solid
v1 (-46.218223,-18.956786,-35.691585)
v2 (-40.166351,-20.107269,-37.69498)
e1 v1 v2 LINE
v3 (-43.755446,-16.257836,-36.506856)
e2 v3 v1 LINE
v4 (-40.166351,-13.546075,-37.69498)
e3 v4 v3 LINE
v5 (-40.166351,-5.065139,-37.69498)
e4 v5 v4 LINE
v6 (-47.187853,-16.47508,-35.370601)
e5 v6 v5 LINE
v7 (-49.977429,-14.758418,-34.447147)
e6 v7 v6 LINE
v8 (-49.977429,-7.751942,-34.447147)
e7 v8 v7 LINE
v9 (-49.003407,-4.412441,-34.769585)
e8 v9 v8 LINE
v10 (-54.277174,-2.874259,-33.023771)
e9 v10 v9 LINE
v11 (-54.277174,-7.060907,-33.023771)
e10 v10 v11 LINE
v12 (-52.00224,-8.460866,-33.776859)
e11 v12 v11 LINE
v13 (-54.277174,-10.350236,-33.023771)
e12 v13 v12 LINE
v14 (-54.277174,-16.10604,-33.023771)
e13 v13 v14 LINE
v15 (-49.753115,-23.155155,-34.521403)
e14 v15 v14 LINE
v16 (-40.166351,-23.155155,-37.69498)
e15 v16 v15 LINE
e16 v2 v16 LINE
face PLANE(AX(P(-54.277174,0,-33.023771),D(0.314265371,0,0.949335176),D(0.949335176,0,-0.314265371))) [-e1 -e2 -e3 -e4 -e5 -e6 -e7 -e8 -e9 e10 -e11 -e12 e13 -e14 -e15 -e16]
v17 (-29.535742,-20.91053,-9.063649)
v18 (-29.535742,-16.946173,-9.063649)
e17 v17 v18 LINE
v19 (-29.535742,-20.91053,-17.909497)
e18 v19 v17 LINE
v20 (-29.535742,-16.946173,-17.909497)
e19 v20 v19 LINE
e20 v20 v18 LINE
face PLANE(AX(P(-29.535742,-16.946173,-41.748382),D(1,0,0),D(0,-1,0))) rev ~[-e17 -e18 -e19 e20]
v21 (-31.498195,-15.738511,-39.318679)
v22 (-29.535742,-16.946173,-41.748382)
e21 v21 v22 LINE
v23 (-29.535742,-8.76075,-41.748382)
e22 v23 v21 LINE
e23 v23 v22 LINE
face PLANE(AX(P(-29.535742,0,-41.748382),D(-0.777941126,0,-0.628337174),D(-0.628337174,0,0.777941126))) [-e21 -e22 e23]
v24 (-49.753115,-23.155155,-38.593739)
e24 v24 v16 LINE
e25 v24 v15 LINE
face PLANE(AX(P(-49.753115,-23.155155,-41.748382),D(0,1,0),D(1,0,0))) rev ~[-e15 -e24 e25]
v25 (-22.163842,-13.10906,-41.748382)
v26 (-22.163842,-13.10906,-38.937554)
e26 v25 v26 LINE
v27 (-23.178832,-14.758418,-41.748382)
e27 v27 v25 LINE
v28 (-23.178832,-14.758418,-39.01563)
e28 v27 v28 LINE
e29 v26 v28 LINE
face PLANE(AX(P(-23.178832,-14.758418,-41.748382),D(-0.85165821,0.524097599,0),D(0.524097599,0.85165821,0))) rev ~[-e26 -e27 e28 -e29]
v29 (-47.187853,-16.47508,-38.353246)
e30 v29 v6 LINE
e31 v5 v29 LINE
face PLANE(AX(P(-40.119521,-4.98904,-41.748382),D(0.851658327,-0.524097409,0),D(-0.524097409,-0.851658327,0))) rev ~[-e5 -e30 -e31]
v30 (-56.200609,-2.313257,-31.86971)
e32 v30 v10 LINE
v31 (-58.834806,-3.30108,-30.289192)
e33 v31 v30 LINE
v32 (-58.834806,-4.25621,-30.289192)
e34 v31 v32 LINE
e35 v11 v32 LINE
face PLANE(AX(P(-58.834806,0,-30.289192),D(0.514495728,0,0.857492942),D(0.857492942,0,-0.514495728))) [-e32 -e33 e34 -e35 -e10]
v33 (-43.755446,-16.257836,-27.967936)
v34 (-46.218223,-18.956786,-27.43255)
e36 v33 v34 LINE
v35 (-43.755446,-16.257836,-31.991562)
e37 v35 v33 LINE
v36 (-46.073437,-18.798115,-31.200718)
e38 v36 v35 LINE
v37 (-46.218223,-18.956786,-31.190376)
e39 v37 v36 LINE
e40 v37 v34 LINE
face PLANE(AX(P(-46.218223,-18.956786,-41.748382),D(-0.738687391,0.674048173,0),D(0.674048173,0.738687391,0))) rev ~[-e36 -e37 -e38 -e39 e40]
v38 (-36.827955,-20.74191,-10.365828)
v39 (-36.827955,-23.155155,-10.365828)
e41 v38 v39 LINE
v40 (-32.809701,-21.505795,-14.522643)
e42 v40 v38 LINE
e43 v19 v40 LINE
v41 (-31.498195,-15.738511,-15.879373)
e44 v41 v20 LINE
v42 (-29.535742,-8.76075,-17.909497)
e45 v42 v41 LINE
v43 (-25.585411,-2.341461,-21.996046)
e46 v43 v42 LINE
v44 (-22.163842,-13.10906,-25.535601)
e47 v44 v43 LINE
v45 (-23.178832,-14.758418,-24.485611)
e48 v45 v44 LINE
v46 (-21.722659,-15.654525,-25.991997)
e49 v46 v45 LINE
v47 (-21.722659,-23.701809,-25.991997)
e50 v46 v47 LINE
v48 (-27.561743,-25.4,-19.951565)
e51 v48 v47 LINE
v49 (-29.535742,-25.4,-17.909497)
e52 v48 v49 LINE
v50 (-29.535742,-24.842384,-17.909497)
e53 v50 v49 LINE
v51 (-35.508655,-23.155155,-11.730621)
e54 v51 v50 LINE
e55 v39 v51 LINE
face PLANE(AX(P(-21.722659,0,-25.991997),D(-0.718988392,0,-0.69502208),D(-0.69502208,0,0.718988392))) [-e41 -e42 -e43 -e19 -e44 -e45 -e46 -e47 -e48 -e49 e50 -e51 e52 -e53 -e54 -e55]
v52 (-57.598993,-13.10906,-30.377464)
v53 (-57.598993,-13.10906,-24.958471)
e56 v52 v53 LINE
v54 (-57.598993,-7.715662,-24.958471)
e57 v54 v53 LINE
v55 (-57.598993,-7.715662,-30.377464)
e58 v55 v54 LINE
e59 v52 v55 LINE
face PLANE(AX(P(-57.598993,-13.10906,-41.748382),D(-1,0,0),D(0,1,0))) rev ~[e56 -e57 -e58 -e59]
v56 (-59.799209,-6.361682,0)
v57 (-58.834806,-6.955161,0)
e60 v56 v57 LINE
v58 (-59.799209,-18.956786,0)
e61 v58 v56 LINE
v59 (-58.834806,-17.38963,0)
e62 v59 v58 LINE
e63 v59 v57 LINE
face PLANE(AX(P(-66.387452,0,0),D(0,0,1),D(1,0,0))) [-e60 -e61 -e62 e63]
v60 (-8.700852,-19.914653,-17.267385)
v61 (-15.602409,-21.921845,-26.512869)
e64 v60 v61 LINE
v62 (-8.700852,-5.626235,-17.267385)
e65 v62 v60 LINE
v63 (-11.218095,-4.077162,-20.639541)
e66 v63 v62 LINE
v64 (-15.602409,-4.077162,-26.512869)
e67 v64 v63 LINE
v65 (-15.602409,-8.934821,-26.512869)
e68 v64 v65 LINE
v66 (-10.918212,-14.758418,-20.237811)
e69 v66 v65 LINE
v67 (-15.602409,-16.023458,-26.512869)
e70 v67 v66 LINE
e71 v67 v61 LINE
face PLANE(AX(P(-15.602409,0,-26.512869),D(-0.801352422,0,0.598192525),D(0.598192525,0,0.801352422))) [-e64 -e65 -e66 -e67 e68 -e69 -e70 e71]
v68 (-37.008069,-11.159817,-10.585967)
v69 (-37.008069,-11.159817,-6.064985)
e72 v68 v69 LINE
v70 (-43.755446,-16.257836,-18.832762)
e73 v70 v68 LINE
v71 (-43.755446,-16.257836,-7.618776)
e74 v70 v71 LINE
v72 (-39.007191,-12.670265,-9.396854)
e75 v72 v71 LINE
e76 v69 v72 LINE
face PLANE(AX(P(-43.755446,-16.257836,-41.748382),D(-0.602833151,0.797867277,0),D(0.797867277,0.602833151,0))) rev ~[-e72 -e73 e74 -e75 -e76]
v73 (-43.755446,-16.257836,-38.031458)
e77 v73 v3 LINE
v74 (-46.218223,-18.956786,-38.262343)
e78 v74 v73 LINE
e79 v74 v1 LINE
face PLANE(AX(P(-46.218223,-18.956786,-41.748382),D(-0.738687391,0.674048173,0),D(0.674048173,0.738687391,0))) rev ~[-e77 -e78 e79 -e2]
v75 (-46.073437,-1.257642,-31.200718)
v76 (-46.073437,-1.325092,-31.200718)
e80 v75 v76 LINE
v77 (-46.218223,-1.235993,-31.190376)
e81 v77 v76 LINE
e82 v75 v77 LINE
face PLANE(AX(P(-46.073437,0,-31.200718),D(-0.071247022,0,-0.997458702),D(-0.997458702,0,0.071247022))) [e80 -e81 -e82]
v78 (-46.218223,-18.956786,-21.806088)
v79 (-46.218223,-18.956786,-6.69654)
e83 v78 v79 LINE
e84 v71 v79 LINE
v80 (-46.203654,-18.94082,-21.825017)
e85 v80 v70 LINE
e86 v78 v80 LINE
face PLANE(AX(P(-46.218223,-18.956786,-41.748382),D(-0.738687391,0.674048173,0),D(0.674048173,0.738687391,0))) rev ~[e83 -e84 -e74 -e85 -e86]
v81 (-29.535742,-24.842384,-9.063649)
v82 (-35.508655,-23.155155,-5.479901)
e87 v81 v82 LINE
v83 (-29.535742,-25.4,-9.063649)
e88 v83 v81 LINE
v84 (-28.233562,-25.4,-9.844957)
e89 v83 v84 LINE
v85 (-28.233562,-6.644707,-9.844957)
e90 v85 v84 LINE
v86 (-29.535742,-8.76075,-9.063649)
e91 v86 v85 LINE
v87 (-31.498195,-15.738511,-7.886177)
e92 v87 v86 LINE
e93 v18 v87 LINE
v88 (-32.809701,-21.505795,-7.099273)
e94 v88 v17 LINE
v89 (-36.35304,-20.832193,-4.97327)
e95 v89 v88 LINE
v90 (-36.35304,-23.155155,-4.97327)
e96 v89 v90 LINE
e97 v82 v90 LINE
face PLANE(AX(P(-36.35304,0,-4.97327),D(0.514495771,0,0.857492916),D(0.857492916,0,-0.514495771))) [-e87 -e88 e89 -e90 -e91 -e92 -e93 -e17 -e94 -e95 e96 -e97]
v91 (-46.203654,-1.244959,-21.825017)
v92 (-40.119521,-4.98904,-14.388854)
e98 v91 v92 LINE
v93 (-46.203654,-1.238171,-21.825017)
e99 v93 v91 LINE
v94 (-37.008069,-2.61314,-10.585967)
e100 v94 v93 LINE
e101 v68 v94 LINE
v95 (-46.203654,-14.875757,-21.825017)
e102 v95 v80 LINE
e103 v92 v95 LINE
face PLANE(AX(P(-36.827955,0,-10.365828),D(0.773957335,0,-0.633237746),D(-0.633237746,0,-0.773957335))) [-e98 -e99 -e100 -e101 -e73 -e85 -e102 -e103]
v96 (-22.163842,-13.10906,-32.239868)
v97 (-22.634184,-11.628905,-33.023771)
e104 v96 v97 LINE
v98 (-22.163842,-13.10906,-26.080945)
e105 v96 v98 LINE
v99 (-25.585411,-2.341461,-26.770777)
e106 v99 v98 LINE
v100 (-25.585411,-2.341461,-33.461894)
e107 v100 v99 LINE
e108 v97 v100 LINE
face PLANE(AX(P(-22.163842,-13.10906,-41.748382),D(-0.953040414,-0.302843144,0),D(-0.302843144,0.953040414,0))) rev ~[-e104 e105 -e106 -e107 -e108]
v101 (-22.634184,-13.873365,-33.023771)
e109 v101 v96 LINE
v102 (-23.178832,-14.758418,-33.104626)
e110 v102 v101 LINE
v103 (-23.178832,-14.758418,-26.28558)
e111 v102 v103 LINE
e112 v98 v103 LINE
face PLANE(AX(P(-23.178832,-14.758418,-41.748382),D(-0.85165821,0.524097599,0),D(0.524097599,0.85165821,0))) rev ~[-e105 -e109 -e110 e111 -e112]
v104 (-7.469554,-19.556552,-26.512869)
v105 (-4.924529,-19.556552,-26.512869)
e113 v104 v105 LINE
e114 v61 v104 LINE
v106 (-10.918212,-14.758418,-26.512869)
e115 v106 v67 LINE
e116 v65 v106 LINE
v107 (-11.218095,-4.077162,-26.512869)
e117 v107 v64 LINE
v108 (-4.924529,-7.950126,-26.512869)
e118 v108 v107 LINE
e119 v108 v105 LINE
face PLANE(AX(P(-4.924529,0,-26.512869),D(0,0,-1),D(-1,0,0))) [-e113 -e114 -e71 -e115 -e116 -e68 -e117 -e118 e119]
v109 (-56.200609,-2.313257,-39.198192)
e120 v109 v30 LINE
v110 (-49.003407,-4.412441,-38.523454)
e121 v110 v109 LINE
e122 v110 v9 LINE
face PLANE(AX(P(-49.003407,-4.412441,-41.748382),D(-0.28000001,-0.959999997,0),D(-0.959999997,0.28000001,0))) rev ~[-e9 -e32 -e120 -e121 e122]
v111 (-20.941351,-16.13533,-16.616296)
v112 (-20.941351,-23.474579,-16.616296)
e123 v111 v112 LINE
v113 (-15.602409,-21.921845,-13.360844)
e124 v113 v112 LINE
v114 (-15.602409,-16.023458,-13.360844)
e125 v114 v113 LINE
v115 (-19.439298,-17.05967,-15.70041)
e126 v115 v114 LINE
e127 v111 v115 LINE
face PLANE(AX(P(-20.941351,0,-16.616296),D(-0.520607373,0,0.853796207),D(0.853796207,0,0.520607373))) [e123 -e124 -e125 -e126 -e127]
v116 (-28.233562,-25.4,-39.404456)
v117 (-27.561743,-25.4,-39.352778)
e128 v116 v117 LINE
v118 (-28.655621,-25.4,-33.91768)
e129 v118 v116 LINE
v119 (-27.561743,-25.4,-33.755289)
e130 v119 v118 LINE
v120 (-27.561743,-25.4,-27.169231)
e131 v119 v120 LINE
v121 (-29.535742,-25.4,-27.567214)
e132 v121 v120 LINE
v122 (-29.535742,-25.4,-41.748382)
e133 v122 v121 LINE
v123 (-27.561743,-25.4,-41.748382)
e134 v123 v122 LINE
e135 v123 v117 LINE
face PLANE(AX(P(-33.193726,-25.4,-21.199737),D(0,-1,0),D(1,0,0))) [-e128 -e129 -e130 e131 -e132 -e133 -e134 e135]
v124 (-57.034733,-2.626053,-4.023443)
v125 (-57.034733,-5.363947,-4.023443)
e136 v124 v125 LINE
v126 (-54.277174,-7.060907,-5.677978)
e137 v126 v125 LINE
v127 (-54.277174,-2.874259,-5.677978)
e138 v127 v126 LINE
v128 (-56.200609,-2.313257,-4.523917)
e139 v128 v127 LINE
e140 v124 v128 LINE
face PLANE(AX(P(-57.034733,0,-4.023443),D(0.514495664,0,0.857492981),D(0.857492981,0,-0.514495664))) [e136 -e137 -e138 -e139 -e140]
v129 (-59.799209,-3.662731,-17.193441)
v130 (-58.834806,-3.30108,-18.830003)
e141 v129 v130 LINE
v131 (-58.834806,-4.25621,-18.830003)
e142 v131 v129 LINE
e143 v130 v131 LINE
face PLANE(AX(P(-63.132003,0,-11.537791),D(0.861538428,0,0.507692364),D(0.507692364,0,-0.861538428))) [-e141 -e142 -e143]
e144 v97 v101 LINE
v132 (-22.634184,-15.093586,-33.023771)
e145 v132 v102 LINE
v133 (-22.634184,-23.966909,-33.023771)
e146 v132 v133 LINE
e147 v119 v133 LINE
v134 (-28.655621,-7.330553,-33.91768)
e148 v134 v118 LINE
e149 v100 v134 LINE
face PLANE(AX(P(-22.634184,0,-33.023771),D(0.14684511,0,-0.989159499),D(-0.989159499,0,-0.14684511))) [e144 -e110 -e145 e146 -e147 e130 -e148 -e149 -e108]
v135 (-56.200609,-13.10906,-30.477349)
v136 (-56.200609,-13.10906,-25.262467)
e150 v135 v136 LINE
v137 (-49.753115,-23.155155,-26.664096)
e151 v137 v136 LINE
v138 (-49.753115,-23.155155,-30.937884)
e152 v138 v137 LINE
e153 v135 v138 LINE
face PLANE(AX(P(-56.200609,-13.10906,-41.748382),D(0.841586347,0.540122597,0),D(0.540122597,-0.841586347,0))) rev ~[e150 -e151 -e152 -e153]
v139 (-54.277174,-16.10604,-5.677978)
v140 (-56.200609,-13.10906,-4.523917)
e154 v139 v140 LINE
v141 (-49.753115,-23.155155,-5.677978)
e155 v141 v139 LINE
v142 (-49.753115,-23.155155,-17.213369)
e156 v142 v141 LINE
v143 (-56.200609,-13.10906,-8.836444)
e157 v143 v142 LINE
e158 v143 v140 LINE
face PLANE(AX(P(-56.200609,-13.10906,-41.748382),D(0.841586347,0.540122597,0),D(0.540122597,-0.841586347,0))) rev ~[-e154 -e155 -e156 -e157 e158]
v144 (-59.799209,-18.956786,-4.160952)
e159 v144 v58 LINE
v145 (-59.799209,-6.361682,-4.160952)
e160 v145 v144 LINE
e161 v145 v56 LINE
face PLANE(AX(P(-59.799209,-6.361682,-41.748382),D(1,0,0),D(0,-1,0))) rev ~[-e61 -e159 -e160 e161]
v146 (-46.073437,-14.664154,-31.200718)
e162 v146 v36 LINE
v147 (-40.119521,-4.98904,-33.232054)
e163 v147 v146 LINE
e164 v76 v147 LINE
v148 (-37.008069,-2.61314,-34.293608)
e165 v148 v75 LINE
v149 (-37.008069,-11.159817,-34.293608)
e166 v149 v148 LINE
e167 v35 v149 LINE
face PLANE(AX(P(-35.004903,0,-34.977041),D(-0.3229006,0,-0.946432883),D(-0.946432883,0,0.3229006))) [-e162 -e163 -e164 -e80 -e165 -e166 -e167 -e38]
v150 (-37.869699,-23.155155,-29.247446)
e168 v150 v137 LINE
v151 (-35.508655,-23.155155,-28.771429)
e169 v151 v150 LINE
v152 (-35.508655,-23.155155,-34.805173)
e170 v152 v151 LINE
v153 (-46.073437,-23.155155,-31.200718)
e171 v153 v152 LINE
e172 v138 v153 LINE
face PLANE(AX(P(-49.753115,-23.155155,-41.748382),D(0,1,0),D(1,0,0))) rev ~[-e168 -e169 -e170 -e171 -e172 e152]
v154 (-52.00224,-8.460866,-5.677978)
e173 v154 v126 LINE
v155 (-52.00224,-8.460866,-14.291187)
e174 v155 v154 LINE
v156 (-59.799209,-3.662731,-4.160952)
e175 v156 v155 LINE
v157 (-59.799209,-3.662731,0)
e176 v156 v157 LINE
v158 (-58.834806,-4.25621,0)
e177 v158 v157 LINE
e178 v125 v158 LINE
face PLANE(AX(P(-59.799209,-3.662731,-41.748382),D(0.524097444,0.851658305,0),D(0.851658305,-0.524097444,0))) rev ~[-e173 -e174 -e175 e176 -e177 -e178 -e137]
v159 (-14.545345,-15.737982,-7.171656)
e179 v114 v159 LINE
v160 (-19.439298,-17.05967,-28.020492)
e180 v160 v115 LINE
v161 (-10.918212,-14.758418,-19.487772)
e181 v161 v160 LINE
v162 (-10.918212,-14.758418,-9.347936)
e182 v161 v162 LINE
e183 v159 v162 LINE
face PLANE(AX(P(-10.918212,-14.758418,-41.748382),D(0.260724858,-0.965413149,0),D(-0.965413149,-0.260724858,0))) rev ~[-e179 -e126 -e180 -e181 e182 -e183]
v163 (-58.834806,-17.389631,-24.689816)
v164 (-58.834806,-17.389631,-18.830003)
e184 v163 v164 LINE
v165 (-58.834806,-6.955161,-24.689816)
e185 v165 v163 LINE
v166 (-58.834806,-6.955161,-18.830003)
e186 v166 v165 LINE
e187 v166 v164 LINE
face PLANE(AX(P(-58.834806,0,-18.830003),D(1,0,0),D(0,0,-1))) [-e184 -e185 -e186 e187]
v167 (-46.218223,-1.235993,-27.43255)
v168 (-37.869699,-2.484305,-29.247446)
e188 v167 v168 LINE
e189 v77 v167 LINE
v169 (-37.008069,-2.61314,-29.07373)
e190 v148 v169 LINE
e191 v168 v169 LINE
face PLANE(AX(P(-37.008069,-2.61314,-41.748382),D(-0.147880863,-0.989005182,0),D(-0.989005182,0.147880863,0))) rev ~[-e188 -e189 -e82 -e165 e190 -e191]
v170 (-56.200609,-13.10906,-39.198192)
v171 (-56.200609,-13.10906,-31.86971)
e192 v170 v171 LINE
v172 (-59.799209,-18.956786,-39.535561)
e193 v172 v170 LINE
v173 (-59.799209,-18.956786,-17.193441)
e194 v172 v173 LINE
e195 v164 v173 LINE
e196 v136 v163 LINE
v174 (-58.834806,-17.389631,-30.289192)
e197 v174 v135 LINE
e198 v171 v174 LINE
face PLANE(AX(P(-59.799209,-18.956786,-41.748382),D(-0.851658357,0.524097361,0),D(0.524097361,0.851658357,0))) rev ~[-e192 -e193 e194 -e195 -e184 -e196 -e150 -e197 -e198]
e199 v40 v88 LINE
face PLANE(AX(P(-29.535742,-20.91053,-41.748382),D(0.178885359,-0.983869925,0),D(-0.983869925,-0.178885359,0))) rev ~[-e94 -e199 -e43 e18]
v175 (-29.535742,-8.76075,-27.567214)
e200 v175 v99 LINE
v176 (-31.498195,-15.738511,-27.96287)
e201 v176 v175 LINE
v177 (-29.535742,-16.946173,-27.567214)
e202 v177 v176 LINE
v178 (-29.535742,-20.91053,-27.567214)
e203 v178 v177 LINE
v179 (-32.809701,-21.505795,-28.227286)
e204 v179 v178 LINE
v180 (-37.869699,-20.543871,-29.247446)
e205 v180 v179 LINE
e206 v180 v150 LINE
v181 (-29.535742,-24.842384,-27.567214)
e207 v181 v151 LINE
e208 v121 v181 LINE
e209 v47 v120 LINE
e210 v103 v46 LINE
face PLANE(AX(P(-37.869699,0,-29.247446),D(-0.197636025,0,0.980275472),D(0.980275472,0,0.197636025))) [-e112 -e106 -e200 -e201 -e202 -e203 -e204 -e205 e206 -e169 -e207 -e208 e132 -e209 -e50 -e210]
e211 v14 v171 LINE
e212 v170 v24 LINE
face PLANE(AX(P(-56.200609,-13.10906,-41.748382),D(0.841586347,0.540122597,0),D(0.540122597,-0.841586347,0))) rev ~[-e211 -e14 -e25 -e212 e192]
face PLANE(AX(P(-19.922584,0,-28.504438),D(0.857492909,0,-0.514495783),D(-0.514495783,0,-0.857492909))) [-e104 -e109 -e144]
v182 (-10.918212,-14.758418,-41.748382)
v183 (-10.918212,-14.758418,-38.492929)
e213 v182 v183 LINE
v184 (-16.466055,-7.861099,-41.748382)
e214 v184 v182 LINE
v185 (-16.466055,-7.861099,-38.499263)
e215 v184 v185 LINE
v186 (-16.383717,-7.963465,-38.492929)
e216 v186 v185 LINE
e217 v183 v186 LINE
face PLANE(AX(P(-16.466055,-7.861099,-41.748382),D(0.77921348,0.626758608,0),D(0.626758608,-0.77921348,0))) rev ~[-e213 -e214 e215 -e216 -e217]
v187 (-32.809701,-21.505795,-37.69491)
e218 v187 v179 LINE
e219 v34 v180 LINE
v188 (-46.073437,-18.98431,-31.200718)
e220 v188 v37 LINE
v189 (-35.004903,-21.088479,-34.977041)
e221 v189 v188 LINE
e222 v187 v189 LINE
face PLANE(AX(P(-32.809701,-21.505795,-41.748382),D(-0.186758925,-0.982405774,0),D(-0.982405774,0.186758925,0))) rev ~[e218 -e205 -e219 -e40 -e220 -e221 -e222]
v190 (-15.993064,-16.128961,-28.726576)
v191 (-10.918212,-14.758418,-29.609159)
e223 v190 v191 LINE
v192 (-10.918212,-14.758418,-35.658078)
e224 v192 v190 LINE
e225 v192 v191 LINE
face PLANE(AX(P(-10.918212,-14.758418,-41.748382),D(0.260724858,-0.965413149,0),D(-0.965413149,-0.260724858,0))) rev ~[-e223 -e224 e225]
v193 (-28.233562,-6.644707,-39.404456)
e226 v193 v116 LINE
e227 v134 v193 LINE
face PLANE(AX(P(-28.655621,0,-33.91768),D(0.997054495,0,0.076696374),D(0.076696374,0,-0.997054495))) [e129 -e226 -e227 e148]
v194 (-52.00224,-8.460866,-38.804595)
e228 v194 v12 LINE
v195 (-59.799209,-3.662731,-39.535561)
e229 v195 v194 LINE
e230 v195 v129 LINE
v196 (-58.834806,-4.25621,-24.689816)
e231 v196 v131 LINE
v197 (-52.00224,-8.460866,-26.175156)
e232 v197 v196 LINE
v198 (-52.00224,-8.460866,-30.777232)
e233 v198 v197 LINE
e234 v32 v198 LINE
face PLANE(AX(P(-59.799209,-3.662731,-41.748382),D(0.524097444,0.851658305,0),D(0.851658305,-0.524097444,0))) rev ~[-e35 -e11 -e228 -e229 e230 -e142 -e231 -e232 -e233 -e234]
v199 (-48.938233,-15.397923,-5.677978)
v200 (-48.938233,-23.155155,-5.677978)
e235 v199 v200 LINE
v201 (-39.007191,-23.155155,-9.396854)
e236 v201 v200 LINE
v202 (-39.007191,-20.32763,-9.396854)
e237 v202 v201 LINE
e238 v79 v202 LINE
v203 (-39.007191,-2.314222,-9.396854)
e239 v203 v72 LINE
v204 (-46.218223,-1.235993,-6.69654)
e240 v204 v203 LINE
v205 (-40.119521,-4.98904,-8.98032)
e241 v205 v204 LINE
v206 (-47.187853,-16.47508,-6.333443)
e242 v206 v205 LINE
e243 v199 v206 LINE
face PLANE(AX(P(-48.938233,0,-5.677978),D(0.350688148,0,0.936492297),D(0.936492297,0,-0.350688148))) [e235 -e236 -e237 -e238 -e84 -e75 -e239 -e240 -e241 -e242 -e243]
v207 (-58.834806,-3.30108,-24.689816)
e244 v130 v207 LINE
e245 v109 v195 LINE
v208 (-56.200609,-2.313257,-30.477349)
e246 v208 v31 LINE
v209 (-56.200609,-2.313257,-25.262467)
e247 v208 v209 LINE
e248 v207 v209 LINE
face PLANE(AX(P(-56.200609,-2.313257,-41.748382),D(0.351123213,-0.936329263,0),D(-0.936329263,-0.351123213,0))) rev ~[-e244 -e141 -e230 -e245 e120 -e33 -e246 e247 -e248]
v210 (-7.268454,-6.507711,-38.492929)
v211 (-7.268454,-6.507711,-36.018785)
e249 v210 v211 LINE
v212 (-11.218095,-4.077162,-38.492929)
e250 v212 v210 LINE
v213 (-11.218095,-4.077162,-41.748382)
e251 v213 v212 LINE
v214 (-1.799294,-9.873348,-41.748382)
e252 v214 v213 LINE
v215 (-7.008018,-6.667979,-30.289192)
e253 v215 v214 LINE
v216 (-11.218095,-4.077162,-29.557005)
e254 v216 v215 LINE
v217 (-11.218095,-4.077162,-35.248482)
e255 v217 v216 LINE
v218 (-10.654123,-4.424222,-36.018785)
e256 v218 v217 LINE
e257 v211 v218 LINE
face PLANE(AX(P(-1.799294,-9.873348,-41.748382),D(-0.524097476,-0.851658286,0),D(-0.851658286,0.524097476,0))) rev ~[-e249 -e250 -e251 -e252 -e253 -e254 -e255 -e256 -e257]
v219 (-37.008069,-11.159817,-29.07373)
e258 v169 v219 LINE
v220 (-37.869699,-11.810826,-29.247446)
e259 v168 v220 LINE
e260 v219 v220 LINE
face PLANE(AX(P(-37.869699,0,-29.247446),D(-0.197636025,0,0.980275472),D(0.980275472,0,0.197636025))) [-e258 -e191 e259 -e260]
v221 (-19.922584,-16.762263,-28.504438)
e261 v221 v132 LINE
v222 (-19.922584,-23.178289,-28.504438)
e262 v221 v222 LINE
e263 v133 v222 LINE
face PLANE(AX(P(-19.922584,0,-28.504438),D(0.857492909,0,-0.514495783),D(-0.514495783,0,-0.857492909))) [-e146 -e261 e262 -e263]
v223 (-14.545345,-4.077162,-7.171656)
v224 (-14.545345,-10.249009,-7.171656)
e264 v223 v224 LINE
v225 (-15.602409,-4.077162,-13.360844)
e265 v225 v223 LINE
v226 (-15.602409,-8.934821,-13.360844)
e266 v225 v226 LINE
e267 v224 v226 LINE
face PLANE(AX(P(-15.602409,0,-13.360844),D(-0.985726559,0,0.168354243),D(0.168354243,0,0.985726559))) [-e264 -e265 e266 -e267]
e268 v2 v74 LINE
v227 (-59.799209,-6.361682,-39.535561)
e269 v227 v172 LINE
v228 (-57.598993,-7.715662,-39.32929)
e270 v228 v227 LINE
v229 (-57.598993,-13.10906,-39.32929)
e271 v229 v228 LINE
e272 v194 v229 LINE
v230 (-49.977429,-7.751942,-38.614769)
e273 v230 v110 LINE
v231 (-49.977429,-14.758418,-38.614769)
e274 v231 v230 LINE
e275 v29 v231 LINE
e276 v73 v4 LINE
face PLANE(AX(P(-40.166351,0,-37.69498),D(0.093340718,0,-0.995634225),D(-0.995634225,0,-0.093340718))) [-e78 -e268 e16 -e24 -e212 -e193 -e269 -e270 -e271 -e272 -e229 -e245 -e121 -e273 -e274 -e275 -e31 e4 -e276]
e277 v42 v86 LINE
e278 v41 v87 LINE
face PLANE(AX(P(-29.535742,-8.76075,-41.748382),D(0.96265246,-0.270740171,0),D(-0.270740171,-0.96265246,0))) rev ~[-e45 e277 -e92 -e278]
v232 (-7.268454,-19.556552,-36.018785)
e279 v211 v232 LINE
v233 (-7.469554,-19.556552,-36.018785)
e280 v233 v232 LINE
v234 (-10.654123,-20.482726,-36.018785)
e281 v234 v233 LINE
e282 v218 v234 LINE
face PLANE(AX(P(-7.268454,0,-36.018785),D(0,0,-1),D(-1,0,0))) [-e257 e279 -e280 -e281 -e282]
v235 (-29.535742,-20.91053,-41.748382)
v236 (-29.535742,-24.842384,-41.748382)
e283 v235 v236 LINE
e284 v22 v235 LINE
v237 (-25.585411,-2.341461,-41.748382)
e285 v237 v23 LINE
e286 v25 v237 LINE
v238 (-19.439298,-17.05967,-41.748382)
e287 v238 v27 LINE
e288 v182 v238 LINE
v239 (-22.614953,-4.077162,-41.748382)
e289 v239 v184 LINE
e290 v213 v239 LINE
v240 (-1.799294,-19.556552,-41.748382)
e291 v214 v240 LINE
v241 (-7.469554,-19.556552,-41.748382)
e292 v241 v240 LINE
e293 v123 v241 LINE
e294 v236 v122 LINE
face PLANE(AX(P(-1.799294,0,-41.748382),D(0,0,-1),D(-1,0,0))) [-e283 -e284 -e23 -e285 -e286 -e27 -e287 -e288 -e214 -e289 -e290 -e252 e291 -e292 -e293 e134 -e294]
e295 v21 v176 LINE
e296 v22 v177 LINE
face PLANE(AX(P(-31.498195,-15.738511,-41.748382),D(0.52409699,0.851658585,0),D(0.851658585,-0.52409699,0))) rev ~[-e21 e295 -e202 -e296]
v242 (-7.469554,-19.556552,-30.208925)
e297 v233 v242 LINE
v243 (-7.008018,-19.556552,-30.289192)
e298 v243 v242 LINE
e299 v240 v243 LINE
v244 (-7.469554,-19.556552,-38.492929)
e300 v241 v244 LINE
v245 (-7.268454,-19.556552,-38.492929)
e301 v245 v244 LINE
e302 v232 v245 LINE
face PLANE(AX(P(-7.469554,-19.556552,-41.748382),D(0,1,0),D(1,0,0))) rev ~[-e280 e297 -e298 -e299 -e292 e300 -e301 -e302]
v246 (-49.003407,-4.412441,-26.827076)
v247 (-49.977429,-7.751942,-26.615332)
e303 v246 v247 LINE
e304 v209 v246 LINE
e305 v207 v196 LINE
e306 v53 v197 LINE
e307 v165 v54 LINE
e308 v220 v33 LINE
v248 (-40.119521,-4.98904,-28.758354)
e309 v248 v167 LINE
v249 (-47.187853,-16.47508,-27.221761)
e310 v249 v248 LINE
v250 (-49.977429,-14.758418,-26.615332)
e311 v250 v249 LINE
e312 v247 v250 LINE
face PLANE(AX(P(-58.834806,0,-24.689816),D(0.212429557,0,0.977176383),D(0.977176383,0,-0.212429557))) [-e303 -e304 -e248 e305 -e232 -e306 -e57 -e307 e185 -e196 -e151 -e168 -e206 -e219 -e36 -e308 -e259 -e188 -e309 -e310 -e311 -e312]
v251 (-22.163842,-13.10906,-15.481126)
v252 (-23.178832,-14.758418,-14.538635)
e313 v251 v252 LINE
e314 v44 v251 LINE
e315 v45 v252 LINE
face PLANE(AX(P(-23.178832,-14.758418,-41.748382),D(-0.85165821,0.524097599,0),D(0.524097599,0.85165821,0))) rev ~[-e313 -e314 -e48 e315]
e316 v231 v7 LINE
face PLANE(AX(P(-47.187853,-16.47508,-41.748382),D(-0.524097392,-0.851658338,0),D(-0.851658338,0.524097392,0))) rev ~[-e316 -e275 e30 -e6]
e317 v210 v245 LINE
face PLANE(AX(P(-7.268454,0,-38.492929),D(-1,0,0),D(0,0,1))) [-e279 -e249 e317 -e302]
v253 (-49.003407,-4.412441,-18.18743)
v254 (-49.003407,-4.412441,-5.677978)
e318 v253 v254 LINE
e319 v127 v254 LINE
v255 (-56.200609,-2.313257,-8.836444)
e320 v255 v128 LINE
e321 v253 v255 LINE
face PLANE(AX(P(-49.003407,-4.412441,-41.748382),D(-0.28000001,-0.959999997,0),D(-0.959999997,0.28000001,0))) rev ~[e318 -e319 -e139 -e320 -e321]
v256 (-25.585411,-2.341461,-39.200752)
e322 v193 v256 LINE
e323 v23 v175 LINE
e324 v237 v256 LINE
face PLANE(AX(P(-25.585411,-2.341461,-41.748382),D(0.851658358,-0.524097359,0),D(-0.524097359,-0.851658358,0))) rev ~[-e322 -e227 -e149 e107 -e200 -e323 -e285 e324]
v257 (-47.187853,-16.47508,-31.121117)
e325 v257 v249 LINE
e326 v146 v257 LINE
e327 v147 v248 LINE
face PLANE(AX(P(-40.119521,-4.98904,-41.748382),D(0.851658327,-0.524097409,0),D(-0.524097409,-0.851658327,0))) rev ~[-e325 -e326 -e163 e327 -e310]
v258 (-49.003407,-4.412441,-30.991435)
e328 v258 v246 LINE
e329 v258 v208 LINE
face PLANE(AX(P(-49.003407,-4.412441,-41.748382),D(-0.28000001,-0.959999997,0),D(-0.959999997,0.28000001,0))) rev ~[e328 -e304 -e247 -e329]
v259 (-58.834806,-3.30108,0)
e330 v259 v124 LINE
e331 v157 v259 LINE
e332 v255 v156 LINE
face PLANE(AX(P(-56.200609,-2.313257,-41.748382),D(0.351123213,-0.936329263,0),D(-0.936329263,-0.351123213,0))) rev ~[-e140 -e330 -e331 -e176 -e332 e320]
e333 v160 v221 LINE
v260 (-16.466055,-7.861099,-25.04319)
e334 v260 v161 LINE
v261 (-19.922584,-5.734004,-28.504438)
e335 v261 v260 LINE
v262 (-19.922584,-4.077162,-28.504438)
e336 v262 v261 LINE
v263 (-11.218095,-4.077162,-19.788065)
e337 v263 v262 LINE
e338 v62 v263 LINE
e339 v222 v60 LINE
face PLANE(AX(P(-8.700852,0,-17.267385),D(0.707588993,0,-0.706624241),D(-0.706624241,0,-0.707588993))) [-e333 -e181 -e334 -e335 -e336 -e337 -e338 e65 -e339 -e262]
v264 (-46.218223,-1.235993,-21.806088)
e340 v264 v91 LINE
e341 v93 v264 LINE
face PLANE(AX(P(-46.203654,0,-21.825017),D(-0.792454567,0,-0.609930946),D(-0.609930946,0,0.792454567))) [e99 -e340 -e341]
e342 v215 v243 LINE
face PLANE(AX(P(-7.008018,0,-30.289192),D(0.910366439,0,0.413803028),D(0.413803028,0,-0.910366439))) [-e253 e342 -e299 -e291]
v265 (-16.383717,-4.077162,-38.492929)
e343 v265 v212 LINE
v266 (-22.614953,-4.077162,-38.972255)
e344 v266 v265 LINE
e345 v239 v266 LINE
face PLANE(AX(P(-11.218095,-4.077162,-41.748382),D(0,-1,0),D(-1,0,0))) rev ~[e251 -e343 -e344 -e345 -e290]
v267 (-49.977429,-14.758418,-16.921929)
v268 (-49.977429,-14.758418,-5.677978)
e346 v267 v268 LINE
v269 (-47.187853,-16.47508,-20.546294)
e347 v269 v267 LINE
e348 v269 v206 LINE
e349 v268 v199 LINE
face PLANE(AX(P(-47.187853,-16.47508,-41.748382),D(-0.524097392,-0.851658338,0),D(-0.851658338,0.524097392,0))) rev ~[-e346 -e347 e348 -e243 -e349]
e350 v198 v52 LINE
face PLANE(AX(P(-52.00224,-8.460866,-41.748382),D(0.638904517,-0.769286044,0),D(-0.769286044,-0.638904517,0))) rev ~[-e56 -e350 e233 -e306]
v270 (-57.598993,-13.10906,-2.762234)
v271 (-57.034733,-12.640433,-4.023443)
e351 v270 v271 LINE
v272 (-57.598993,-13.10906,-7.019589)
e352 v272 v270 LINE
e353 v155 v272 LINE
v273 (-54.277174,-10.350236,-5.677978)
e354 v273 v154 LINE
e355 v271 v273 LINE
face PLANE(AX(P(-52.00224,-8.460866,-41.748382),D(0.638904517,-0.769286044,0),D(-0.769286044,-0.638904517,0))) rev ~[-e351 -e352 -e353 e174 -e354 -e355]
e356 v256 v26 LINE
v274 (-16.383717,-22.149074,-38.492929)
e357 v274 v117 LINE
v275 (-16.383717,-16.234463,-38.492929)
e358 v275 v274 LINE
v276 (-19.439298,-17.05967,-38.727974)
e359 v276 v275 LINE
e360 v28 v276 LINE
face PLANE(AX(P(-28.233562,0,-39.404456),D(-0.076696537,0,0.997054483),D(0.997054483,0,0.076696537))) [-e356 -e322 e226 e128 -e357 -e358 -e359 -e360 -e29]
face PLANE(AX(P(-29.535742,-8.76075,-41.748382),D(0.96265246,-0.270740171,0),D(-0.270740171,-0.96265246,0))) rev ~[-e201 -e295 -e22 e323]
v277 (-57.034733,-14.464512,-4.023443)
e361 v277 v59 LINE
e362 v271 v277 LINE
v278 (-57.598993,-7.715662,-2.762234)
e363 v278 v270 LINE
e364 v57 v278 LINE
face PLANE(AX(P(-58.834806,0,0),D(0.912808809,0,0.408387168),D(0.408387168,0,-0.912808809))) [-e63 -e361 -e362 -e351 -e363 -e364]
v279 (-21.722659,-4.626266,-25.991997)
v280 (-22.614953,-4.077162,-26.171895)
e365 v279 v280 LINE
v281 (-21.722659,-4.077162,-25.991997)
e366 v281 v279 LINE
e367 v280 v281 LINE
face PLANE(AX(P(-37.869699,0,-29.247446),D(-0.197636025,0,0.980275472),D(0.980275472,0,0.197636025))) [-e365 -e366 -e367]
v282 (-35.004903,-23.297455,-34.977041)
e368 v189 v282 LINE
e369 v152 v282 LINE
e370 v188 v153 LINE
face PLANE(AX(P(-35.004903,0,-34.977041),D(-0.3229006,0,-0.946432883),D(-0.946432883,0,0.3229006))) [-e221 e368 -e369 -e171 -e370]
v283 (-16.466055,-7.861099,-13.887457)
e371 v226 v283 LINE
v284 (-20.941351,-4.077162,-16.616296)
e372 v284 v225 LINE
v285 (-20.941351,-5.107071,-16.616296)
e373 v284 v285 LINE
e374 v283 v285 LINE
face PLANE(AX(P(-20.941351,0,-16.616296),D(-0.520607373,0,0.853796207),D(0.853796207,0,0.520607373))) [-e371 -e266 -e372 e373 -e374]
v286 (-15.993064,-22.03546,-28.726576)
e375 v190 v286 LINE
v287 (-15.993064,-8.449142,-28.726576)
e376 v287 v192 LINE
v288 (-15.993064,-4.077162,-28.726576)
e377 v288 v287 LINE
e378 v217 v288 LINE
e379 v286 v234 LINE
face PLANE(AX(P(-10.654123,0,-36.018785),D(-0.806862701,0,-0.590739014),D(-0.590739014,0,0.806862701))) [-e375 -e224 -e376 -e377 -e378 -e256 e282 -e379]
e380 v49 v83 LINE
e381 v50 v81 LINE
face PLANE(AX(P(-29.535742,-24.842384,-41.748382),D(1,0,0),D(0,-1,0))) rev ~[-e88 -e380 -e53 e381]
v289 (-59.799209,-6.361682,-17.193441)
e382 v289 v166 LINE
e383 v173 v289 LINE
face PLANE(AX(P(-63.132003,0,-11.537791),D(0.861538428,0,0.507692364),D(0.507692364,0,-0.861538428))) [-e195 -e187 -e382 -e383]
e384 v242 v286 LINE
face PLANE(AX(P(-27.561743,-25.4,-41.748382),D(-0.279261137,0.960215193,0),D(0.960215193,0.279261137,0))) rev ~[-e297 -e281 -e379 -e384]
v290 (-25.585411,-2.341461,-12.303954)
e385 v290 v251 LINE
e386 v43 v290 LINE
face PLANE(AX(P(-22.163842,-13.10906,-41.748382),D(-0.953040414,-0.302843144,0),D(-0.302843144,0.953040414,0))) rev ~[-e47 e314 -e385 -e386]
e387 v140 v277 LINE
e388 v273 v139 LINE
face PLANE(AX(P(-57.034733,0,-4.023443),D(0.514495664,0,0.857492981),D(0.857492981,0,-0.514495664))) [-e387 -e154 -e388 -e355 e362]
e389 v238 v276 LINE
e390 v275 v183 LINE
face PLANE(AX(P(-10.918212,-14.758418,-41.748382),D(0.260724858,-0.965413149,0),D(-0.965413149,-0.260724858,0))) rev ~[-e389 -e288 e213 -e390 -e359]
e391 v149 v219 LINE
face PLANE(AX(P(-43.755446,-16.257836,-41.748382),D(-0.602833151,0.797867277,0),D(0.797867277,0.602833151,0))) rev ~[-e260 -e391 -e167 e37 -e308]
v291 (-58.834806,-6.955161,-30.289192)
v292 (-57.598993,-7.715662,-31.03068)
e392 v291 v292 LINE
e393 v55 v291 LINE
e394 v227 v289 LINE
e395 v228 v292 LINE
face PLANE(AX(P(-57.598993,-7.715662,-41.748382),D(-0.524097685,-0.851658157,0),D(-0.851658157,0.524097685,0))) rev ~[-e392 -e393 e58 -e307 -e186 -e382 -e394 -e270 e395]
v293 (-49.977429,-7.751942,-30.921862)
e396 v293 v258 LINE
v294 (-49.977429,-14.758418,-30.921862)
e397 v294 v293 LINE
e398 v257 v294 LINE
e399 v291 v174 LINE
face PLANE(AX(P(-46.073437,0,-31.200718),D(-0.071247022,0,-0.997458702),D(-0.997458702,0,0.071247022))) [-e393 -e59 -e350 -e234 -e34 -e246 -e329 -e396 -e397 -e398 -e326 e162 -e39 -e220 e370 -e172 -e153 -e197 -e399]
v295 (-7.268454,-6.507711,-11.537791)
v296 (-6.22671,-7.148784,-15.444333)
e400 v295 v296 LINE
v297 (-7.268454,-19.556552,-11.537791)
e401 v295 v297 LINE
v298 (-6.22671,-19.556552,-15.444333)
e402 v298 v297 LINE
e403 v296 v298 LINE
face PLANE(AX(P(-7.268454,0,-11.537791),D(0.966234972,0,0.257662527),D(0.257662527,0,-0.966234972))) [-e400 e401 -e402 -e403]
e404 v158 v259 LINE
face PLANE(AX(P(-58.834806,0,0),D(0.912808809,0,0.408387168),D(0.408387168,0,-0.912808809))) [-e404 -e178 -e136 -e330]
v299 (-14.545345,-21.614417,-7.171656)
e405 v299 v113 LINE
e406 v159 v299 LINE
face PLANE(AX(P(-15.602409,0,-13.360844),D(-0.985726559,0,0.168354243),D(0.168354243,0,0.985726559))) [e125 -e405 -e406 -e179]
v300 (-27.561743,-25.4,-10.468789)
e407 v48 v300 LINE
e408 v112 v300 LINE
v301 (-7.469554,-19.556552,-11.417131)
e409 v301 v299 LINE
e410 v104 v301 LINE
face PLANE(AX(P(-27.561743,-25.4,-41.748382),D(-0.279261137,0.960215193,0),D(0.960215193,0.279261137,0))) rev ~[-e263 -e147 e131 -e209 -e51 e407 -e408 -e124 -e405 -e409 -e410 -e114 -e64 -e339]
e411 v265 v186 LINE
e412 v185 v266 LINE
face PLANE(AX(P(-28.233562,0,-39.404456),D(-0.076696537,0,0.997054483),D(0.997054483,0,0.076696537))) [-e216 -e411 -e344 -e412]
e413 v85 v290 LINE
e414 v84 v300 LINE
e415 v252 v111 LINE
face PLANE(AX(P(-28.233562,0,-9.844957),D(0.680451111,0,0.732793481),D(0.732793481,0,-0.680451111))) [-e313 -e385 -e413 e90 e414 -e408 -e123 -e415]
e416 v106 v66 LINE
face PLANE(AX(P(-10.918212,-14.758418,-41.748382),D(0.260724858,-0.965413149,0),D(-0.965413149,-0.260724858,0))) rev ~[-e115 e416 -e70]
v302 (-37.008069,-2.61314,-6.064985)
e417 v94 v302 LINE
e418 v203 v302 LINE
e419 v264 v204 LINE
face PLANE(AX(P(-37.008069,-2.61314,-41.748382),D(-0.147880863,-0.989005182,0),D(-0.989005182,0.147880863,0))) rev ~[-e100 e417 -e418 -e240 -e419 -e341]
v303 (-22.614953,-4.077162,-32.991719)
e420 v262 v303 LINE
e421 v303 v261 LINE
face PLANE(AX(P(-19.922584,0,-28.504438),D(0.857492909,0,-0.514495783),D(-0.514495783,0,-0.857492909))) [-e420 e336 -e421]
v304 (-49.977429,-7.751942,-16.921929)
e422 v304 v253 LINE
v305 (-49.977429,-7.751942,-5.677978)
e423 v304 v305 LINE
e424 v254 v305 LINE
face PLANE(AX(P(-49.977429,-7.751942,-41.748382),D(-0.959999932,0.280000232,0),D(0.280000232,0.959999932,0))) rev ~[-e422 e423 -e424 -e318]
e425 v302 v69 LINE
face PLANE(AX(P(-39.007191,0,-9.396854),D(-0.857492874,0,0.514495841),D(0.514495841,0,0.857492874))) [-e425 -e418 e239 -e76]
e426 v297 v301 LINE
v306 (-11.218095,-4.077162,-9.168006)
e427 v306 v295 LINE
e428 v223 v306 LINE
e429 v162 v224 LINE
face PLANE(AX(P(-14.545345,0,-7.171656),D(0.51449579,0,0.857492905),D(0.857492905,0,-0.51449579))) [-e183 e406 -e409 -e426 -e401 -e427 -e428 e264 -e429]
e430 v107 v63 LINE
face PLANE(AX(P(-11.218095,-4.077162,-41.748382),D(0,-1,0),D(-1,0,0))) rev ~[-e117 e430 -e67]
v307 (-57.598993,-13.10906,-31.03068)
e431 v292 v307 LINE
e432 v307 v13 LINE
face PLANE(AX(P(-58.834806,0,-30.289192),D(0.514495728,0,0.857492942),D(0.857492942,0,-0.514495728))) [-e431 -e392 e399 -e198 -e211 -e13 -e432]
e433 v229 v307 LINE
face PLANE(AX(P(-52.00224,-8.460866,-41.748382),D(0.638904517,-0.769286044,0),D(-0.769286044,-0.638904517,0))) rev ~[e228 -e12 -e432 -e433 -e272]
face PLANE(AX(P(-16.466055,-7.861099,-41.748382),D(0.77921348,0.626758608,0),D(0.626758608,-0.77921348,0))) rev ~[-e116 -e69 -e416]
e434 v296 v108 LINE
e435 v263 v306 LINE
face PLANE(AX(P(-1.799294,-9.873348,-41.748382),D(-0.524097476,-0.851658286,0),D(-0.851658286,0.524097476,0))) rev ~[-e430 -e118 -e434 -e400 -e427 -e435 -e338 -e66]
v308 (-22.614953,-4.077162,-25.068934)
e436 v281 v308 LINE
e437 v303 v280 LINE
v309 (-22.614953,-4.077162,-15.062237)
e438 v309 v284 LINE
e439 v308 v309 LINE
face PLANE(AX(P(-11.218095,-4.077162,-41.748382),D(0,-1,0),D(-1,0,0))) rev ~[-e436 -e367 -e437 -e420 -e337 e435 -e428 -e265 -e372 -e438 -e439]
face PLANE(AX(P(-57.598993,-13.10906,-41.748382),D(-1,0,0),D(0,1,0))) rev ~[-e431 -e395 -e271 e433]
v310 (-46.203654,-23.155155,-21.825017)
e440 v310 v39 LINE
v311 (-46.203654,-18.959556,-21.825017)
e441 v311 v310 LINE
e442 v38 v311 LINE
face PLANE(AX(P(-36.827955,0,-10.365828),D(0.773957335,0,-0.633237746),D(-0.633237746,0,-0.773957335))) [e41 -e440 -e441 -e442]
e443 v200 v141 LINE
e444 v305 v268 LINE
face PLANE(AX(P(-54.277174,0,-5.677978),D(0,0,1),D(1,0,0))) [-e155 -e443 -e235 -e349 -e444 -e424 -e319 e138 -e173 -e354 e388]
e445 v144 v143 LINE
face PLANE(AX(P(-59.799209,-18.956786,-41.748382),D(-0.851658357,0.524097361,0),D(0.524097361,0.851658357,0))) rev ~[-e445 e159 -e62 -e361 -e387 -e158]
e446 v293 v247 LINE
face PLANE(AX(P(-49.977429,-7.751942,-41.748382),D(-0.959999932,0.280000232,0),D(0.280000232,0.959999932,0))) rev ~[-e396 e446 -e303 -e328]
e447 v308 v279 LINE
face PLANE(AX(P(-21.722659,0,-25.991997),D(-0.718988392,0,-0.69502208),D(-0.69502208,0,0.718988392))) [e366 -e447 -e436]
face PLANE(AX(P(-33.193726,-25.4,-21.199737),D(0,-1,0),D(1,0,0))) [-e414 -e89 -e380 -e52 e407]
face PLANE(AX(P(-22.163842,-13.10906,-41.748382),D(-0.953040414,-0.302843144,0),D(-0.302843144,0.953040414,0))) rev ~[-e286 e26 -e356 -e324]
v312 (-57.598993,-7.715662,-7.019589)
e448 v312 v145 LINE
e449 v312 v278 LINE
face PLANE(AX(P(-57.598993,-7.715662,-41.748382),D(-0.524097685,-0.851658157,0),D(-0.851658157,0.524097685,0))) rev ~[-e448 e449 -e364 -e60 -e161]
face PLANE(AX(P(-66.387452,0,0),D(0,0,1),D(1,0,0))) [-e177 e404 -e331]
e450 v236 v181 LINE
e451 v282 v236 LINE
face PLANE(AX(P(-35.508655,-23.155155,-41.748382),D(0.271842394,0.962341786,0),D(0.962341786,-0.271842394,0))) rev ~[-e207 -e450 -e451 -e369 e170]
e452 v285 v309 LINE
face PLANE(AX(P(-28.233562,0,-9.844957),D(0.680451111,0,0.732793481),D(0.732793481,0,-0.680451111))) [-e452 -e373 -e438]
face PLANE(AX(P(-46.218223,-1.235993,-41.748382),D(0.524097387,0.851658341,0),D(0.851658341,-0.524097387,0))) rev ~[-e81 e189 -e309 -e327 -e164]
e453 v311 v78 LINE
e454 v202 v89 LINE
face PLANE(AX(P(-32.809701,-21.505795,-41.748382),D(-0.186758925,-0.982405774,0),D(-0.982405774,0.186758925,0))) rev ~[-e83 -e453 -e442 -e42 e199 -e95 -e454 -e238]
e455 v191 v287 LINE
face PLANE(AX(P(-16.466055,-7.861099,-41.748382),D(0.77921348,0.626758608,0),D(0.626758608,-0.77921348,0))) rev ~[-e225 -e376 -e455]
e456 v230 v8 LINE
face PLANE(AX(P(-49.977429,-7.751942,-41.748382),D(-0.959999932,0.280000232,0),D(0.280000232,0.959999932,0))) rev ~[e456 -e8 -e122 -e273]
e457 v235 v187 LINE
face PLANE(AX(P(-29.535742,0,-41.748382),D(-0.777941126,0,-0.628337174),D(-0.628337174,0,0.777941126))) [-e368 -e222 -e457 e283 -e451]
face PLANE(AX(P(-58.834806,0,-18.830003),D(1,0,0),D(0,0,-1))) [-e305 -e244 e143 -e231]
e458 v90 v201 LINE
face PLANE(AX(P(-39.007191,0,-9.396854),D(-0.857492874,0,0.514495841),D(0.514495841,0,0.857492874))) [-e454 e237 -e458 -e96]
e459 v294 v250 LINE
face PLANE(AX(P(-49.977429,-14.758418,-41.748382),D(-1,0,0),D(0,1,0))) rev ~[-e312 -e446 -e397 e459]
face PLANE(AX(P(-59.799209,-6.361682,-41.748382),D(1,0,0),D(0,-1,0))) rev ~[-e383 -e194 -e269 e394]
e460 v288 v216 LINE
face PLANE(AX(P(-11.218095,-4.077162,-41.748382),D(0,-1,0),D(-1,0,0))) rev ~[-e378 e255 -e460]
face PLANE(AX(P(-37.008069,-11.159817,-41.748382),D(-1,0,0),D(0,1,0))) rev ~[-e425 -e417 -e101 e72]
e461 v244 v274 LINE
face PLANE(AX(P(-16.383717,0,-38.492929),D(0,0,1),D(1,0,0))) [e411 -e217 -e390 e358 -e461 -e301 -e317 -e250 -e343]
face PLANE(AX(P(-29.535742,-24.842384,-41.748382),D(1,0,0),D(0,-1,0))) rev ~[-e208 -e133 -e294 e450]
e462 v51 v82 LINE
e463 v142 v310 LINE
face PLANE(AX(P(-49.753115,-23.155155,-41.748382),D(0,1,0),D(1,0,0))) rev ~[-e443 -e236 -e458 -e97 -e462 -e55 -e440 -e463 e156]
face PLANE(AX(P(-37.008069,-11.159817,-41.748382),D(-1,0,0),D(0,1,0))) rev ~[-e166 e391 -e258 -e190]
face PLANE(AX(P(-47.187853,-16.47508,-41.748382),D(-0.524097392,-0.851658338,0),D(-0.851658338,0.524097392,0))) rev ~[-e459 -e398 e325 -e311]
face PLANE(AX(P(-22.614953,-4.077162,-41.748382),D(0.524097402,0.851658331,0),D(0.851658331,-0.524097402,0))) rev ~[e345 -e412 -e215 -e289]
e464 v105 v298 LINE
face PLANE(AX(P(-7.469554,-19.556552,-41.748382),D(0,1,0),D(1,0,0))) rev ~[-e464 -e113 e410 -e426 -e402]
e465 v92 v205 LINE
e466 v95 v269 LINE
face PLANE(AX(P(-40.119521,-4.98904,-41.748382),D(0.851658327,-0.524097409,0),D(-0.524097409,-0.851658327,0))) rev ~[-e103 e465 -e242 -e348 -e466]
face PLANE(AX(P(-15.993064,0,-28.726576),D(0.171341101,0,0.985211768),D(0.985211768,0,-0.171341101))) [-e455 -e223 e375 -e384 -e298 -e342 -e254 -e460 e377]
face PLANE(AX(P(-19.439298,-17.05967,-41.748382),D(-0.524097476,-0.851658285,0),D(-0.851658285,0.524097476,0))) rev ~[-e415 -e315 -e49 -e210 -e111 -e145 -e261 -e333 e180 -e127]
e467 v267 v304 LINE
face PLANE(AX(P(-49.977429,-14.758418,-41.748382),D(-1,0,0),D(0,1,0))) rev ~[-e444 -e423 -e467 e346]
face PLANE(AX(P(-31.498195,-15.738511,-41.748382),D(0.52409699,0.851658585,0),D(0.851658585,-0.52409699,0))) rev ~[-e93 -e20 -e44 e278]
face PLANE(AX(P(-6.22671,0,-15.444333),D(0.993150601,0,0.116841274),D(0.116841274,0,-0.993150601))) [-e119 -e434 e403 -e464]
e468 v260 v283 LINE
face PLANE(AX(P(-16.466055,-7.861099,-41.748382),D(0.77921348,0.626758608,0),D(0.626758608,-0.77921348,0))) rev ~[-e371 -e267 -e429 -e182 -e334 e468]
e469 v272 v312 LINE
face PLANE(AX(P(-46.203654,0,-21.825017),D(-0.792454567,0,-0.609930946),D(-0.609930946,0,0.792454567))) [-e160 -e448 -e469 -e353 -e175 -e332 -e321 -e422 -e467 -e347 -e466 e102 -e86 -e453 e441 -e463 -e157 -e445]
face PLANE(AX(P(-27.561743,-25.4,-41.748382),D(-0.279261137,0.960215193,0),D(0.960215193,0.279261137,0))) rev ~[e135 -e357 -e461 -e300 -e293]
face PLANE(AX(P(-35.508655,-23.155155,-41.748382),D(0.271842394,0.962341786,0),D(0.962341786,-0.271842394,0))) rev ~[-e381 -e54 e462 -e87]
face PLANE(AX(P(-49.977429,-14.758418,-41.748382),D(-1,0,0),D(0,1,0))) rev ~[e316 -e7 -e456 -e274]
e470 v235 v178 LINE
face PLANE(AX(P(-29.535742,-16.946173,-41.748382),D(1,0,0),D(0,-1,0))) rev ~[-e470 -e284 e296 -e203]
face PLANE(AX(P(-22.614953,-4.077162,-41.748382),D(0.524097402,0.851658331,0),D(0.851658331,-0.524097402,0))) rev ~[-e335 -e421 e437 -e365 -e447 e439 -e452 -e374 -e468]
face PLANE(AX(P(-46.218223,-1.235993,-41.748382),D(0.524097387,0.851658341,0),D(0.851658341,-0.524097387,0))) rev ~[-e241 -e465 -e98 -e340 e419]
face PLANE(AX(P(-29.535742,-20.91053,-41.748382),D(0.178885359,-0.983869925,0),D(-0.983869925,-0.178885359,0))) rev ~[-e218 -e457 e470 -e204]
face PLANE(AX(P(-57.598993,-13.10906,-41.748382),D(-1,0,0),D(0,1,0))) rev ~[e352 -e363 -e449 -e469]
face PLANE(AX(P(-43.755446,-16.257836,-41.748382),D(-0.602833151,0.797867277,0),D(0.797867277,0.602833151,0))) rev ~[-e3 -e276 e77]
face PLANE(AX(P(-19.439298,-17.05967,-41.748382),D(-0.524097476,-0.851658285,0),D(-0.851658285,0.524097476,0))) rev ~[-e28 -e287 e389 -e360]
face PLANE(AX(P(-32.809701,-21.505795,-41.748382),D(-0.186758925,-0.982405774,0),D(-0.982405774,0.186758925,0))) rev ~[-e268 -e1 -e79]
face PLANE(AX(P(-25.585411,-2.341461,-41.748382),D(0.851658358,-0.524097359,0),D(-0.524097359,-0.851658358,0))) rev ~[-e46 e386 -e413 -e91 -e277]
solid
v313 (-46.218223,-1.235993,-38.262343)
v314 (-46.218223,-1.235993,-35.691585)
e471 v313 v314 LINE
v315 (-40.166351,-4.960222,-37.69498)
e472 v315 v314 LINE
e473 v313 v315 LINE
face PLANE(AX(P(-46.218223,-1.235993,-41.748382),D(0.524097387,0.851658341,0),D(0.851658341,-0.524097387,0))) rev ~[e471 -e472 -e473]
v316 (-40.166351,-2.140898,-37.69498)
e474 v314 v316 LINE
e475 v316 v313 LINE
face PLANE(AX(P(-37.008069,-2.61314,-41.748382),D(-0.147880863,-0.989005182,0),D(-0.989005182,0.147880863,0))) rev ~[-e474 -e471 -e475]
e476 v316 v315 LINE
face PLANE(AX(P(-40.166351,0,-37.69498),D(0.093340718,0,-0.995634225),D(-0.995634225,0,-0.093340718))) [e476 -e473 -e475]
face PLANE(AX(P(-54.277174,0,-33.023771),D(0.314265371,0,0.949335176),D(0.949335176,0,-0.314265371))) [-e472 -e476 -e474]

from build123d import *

# Parameters (mm, degrees)
F0_W     = 66.387452
F0_H     = 42.399473
F1_DEPTH = 25.4
F3_DEPTH = 25.4
F5_DEPTH = 76.2


with BuildPart() as f1:
    # F0 (on Front) → F1 (new body)
    with BuildSketch(Plane.XZ):
        with Locations((-33.193726, -21.199737)):
            Rectangle(F0_W, F0_H)
    extrude(amount=F1_DEPTH)

    # F2 (on Front) → F3 (cut)
    with BuildSketch(Plane.XZ):
        Polygon((-46.203654, -21.825017), (-63.001782, 0), (-65.012503, 5.034372), (-70.033558, -3.334053), (-73.549449, -26.512869), (-68.861596, -47.868628), (4.320954, -51.775172), (4.320954, 2.265323), (-49.068451, 6.822956), (-58.834806, 0), (-57.034733, -4.023443), (-54.277174, -5.677978), (-48.938233, -5.677978), (-39.007191, -9.396854), (-36.35304, -4.97327), (-28.233562, -9.844957), (-20.941351, -16.616296), (-15.602409, -13.360844), (-14.545345, -7.171656), (-7.268454, -11.537791), (-6.22671, -15.444333), (-4.924529, -26.512869), (-9.48216, -26.512869), (-15.602409, -26.512869), (-8.700852, -17.267385), (-19.922584, -28.504438), (-22.634184, -33.023771), (-28.655621, -33.91768), (-28.233562, -39.404456), (-16.383717, -38.492929), (-7.268454, -38.492929), (-7.268454, -36.018785), (-10.654123, -36.018785), (-15.993064, -28.726576), (-7.008018, -30.289192), (-1.799294, -41.748382), (-21.852877, -41.748382), (-29.535742, -41.748382), (-35.004903, -34.977041), (-46.073437, -31.200718), (-58.834806, -30.289192), (-54.277174, -33.023771), (-40.166351, -37.69498), (-61.178733, -39.664891), (-63.132003, -18.830003), (-63.132003, -11.537791), (-58.834806, -18.830003), (-58.834806, -24.689816), (-37.869699, -29.247446), (-21.722659, -25.991997), (-36.827955, -10.365828), align=None)
    extrude(amount=F3_DEPTH, mode=Mode.SUBTRACT)

    # F4 (on face) → F5 (cut)
    with BuildSketch(Plane(origin=(0, 0, -41.748382), x_dir=(1, 0, 0), z_dir=(0, 0, -1))):
        Polygon((-29.535742, 25.4), (-27.561743, 25.4), (-1.799294, 25.4), (-1.799294, 19.556552), (6.774909, 21.355854), (-6.419962, 42.797517), (-57.250202, 37.549559), (-91.586851, 32.45154), (-74.493498, -16.579399), (13.822168, -14.630158), (6.774909, 8.160982), (-1.799294, 9.873348), (-1.799294, 0), (-29.535742, 0), (-29.535742, 8.76075), (-31.498195, 15.738511), (-29.535742, 16.946173), (-29.535742, 20.91053), (-32.809701, 21.505795), (-46.218223, 18.956786), (-43.755446, 16.257836), (-37.008069, 11.159817), (-37.008069, 2.61314), (-46.218223, 1.235993), (-40.119521, 4.98904), (-47.187853, 16.47508), (-49.977429, 14.758418), (-49.977429, 7.751942), (-49.003407, 4.412441), (-56.200609, 2.313257), (-59.799209, 3.662731), (-52.00224, 8.460866), (-57.598993, 13.10906), (-57.598993, 7.715662), (-59.799209, 6.361682), (-59.799209, 13.10906), (-59.799209, 18.956786), (-56.200609, 13.10906), (-49.753115, 23.155155), (-35.508655, 23.155155), (-29.535742, 24.842384), align=None)
        Polygon((-27.561743, 25.4), (-7.469554, 19.556552), (-1.799294, 19.556552), (-1.799294, 25.4), align=None)
        Polygon((-1.799294, 0), (-1.799294, 9.873348), (-11.218095, 4.077162), (-22.614953, 4.077162), (-16.466055, 7.861099), (-10.918212, 14.758418), (-19.439298, 17.05967), (-23.178832, 14.758418), (-22.163842, 13.10906), (-25.585411, 2.341461), (-29.535742, 8.76075), (-29.535742, 0), align=None)
    extrude(amount=-F5_DEPTH, mode=Mode.SUBTRACT)


solid = f1.part
